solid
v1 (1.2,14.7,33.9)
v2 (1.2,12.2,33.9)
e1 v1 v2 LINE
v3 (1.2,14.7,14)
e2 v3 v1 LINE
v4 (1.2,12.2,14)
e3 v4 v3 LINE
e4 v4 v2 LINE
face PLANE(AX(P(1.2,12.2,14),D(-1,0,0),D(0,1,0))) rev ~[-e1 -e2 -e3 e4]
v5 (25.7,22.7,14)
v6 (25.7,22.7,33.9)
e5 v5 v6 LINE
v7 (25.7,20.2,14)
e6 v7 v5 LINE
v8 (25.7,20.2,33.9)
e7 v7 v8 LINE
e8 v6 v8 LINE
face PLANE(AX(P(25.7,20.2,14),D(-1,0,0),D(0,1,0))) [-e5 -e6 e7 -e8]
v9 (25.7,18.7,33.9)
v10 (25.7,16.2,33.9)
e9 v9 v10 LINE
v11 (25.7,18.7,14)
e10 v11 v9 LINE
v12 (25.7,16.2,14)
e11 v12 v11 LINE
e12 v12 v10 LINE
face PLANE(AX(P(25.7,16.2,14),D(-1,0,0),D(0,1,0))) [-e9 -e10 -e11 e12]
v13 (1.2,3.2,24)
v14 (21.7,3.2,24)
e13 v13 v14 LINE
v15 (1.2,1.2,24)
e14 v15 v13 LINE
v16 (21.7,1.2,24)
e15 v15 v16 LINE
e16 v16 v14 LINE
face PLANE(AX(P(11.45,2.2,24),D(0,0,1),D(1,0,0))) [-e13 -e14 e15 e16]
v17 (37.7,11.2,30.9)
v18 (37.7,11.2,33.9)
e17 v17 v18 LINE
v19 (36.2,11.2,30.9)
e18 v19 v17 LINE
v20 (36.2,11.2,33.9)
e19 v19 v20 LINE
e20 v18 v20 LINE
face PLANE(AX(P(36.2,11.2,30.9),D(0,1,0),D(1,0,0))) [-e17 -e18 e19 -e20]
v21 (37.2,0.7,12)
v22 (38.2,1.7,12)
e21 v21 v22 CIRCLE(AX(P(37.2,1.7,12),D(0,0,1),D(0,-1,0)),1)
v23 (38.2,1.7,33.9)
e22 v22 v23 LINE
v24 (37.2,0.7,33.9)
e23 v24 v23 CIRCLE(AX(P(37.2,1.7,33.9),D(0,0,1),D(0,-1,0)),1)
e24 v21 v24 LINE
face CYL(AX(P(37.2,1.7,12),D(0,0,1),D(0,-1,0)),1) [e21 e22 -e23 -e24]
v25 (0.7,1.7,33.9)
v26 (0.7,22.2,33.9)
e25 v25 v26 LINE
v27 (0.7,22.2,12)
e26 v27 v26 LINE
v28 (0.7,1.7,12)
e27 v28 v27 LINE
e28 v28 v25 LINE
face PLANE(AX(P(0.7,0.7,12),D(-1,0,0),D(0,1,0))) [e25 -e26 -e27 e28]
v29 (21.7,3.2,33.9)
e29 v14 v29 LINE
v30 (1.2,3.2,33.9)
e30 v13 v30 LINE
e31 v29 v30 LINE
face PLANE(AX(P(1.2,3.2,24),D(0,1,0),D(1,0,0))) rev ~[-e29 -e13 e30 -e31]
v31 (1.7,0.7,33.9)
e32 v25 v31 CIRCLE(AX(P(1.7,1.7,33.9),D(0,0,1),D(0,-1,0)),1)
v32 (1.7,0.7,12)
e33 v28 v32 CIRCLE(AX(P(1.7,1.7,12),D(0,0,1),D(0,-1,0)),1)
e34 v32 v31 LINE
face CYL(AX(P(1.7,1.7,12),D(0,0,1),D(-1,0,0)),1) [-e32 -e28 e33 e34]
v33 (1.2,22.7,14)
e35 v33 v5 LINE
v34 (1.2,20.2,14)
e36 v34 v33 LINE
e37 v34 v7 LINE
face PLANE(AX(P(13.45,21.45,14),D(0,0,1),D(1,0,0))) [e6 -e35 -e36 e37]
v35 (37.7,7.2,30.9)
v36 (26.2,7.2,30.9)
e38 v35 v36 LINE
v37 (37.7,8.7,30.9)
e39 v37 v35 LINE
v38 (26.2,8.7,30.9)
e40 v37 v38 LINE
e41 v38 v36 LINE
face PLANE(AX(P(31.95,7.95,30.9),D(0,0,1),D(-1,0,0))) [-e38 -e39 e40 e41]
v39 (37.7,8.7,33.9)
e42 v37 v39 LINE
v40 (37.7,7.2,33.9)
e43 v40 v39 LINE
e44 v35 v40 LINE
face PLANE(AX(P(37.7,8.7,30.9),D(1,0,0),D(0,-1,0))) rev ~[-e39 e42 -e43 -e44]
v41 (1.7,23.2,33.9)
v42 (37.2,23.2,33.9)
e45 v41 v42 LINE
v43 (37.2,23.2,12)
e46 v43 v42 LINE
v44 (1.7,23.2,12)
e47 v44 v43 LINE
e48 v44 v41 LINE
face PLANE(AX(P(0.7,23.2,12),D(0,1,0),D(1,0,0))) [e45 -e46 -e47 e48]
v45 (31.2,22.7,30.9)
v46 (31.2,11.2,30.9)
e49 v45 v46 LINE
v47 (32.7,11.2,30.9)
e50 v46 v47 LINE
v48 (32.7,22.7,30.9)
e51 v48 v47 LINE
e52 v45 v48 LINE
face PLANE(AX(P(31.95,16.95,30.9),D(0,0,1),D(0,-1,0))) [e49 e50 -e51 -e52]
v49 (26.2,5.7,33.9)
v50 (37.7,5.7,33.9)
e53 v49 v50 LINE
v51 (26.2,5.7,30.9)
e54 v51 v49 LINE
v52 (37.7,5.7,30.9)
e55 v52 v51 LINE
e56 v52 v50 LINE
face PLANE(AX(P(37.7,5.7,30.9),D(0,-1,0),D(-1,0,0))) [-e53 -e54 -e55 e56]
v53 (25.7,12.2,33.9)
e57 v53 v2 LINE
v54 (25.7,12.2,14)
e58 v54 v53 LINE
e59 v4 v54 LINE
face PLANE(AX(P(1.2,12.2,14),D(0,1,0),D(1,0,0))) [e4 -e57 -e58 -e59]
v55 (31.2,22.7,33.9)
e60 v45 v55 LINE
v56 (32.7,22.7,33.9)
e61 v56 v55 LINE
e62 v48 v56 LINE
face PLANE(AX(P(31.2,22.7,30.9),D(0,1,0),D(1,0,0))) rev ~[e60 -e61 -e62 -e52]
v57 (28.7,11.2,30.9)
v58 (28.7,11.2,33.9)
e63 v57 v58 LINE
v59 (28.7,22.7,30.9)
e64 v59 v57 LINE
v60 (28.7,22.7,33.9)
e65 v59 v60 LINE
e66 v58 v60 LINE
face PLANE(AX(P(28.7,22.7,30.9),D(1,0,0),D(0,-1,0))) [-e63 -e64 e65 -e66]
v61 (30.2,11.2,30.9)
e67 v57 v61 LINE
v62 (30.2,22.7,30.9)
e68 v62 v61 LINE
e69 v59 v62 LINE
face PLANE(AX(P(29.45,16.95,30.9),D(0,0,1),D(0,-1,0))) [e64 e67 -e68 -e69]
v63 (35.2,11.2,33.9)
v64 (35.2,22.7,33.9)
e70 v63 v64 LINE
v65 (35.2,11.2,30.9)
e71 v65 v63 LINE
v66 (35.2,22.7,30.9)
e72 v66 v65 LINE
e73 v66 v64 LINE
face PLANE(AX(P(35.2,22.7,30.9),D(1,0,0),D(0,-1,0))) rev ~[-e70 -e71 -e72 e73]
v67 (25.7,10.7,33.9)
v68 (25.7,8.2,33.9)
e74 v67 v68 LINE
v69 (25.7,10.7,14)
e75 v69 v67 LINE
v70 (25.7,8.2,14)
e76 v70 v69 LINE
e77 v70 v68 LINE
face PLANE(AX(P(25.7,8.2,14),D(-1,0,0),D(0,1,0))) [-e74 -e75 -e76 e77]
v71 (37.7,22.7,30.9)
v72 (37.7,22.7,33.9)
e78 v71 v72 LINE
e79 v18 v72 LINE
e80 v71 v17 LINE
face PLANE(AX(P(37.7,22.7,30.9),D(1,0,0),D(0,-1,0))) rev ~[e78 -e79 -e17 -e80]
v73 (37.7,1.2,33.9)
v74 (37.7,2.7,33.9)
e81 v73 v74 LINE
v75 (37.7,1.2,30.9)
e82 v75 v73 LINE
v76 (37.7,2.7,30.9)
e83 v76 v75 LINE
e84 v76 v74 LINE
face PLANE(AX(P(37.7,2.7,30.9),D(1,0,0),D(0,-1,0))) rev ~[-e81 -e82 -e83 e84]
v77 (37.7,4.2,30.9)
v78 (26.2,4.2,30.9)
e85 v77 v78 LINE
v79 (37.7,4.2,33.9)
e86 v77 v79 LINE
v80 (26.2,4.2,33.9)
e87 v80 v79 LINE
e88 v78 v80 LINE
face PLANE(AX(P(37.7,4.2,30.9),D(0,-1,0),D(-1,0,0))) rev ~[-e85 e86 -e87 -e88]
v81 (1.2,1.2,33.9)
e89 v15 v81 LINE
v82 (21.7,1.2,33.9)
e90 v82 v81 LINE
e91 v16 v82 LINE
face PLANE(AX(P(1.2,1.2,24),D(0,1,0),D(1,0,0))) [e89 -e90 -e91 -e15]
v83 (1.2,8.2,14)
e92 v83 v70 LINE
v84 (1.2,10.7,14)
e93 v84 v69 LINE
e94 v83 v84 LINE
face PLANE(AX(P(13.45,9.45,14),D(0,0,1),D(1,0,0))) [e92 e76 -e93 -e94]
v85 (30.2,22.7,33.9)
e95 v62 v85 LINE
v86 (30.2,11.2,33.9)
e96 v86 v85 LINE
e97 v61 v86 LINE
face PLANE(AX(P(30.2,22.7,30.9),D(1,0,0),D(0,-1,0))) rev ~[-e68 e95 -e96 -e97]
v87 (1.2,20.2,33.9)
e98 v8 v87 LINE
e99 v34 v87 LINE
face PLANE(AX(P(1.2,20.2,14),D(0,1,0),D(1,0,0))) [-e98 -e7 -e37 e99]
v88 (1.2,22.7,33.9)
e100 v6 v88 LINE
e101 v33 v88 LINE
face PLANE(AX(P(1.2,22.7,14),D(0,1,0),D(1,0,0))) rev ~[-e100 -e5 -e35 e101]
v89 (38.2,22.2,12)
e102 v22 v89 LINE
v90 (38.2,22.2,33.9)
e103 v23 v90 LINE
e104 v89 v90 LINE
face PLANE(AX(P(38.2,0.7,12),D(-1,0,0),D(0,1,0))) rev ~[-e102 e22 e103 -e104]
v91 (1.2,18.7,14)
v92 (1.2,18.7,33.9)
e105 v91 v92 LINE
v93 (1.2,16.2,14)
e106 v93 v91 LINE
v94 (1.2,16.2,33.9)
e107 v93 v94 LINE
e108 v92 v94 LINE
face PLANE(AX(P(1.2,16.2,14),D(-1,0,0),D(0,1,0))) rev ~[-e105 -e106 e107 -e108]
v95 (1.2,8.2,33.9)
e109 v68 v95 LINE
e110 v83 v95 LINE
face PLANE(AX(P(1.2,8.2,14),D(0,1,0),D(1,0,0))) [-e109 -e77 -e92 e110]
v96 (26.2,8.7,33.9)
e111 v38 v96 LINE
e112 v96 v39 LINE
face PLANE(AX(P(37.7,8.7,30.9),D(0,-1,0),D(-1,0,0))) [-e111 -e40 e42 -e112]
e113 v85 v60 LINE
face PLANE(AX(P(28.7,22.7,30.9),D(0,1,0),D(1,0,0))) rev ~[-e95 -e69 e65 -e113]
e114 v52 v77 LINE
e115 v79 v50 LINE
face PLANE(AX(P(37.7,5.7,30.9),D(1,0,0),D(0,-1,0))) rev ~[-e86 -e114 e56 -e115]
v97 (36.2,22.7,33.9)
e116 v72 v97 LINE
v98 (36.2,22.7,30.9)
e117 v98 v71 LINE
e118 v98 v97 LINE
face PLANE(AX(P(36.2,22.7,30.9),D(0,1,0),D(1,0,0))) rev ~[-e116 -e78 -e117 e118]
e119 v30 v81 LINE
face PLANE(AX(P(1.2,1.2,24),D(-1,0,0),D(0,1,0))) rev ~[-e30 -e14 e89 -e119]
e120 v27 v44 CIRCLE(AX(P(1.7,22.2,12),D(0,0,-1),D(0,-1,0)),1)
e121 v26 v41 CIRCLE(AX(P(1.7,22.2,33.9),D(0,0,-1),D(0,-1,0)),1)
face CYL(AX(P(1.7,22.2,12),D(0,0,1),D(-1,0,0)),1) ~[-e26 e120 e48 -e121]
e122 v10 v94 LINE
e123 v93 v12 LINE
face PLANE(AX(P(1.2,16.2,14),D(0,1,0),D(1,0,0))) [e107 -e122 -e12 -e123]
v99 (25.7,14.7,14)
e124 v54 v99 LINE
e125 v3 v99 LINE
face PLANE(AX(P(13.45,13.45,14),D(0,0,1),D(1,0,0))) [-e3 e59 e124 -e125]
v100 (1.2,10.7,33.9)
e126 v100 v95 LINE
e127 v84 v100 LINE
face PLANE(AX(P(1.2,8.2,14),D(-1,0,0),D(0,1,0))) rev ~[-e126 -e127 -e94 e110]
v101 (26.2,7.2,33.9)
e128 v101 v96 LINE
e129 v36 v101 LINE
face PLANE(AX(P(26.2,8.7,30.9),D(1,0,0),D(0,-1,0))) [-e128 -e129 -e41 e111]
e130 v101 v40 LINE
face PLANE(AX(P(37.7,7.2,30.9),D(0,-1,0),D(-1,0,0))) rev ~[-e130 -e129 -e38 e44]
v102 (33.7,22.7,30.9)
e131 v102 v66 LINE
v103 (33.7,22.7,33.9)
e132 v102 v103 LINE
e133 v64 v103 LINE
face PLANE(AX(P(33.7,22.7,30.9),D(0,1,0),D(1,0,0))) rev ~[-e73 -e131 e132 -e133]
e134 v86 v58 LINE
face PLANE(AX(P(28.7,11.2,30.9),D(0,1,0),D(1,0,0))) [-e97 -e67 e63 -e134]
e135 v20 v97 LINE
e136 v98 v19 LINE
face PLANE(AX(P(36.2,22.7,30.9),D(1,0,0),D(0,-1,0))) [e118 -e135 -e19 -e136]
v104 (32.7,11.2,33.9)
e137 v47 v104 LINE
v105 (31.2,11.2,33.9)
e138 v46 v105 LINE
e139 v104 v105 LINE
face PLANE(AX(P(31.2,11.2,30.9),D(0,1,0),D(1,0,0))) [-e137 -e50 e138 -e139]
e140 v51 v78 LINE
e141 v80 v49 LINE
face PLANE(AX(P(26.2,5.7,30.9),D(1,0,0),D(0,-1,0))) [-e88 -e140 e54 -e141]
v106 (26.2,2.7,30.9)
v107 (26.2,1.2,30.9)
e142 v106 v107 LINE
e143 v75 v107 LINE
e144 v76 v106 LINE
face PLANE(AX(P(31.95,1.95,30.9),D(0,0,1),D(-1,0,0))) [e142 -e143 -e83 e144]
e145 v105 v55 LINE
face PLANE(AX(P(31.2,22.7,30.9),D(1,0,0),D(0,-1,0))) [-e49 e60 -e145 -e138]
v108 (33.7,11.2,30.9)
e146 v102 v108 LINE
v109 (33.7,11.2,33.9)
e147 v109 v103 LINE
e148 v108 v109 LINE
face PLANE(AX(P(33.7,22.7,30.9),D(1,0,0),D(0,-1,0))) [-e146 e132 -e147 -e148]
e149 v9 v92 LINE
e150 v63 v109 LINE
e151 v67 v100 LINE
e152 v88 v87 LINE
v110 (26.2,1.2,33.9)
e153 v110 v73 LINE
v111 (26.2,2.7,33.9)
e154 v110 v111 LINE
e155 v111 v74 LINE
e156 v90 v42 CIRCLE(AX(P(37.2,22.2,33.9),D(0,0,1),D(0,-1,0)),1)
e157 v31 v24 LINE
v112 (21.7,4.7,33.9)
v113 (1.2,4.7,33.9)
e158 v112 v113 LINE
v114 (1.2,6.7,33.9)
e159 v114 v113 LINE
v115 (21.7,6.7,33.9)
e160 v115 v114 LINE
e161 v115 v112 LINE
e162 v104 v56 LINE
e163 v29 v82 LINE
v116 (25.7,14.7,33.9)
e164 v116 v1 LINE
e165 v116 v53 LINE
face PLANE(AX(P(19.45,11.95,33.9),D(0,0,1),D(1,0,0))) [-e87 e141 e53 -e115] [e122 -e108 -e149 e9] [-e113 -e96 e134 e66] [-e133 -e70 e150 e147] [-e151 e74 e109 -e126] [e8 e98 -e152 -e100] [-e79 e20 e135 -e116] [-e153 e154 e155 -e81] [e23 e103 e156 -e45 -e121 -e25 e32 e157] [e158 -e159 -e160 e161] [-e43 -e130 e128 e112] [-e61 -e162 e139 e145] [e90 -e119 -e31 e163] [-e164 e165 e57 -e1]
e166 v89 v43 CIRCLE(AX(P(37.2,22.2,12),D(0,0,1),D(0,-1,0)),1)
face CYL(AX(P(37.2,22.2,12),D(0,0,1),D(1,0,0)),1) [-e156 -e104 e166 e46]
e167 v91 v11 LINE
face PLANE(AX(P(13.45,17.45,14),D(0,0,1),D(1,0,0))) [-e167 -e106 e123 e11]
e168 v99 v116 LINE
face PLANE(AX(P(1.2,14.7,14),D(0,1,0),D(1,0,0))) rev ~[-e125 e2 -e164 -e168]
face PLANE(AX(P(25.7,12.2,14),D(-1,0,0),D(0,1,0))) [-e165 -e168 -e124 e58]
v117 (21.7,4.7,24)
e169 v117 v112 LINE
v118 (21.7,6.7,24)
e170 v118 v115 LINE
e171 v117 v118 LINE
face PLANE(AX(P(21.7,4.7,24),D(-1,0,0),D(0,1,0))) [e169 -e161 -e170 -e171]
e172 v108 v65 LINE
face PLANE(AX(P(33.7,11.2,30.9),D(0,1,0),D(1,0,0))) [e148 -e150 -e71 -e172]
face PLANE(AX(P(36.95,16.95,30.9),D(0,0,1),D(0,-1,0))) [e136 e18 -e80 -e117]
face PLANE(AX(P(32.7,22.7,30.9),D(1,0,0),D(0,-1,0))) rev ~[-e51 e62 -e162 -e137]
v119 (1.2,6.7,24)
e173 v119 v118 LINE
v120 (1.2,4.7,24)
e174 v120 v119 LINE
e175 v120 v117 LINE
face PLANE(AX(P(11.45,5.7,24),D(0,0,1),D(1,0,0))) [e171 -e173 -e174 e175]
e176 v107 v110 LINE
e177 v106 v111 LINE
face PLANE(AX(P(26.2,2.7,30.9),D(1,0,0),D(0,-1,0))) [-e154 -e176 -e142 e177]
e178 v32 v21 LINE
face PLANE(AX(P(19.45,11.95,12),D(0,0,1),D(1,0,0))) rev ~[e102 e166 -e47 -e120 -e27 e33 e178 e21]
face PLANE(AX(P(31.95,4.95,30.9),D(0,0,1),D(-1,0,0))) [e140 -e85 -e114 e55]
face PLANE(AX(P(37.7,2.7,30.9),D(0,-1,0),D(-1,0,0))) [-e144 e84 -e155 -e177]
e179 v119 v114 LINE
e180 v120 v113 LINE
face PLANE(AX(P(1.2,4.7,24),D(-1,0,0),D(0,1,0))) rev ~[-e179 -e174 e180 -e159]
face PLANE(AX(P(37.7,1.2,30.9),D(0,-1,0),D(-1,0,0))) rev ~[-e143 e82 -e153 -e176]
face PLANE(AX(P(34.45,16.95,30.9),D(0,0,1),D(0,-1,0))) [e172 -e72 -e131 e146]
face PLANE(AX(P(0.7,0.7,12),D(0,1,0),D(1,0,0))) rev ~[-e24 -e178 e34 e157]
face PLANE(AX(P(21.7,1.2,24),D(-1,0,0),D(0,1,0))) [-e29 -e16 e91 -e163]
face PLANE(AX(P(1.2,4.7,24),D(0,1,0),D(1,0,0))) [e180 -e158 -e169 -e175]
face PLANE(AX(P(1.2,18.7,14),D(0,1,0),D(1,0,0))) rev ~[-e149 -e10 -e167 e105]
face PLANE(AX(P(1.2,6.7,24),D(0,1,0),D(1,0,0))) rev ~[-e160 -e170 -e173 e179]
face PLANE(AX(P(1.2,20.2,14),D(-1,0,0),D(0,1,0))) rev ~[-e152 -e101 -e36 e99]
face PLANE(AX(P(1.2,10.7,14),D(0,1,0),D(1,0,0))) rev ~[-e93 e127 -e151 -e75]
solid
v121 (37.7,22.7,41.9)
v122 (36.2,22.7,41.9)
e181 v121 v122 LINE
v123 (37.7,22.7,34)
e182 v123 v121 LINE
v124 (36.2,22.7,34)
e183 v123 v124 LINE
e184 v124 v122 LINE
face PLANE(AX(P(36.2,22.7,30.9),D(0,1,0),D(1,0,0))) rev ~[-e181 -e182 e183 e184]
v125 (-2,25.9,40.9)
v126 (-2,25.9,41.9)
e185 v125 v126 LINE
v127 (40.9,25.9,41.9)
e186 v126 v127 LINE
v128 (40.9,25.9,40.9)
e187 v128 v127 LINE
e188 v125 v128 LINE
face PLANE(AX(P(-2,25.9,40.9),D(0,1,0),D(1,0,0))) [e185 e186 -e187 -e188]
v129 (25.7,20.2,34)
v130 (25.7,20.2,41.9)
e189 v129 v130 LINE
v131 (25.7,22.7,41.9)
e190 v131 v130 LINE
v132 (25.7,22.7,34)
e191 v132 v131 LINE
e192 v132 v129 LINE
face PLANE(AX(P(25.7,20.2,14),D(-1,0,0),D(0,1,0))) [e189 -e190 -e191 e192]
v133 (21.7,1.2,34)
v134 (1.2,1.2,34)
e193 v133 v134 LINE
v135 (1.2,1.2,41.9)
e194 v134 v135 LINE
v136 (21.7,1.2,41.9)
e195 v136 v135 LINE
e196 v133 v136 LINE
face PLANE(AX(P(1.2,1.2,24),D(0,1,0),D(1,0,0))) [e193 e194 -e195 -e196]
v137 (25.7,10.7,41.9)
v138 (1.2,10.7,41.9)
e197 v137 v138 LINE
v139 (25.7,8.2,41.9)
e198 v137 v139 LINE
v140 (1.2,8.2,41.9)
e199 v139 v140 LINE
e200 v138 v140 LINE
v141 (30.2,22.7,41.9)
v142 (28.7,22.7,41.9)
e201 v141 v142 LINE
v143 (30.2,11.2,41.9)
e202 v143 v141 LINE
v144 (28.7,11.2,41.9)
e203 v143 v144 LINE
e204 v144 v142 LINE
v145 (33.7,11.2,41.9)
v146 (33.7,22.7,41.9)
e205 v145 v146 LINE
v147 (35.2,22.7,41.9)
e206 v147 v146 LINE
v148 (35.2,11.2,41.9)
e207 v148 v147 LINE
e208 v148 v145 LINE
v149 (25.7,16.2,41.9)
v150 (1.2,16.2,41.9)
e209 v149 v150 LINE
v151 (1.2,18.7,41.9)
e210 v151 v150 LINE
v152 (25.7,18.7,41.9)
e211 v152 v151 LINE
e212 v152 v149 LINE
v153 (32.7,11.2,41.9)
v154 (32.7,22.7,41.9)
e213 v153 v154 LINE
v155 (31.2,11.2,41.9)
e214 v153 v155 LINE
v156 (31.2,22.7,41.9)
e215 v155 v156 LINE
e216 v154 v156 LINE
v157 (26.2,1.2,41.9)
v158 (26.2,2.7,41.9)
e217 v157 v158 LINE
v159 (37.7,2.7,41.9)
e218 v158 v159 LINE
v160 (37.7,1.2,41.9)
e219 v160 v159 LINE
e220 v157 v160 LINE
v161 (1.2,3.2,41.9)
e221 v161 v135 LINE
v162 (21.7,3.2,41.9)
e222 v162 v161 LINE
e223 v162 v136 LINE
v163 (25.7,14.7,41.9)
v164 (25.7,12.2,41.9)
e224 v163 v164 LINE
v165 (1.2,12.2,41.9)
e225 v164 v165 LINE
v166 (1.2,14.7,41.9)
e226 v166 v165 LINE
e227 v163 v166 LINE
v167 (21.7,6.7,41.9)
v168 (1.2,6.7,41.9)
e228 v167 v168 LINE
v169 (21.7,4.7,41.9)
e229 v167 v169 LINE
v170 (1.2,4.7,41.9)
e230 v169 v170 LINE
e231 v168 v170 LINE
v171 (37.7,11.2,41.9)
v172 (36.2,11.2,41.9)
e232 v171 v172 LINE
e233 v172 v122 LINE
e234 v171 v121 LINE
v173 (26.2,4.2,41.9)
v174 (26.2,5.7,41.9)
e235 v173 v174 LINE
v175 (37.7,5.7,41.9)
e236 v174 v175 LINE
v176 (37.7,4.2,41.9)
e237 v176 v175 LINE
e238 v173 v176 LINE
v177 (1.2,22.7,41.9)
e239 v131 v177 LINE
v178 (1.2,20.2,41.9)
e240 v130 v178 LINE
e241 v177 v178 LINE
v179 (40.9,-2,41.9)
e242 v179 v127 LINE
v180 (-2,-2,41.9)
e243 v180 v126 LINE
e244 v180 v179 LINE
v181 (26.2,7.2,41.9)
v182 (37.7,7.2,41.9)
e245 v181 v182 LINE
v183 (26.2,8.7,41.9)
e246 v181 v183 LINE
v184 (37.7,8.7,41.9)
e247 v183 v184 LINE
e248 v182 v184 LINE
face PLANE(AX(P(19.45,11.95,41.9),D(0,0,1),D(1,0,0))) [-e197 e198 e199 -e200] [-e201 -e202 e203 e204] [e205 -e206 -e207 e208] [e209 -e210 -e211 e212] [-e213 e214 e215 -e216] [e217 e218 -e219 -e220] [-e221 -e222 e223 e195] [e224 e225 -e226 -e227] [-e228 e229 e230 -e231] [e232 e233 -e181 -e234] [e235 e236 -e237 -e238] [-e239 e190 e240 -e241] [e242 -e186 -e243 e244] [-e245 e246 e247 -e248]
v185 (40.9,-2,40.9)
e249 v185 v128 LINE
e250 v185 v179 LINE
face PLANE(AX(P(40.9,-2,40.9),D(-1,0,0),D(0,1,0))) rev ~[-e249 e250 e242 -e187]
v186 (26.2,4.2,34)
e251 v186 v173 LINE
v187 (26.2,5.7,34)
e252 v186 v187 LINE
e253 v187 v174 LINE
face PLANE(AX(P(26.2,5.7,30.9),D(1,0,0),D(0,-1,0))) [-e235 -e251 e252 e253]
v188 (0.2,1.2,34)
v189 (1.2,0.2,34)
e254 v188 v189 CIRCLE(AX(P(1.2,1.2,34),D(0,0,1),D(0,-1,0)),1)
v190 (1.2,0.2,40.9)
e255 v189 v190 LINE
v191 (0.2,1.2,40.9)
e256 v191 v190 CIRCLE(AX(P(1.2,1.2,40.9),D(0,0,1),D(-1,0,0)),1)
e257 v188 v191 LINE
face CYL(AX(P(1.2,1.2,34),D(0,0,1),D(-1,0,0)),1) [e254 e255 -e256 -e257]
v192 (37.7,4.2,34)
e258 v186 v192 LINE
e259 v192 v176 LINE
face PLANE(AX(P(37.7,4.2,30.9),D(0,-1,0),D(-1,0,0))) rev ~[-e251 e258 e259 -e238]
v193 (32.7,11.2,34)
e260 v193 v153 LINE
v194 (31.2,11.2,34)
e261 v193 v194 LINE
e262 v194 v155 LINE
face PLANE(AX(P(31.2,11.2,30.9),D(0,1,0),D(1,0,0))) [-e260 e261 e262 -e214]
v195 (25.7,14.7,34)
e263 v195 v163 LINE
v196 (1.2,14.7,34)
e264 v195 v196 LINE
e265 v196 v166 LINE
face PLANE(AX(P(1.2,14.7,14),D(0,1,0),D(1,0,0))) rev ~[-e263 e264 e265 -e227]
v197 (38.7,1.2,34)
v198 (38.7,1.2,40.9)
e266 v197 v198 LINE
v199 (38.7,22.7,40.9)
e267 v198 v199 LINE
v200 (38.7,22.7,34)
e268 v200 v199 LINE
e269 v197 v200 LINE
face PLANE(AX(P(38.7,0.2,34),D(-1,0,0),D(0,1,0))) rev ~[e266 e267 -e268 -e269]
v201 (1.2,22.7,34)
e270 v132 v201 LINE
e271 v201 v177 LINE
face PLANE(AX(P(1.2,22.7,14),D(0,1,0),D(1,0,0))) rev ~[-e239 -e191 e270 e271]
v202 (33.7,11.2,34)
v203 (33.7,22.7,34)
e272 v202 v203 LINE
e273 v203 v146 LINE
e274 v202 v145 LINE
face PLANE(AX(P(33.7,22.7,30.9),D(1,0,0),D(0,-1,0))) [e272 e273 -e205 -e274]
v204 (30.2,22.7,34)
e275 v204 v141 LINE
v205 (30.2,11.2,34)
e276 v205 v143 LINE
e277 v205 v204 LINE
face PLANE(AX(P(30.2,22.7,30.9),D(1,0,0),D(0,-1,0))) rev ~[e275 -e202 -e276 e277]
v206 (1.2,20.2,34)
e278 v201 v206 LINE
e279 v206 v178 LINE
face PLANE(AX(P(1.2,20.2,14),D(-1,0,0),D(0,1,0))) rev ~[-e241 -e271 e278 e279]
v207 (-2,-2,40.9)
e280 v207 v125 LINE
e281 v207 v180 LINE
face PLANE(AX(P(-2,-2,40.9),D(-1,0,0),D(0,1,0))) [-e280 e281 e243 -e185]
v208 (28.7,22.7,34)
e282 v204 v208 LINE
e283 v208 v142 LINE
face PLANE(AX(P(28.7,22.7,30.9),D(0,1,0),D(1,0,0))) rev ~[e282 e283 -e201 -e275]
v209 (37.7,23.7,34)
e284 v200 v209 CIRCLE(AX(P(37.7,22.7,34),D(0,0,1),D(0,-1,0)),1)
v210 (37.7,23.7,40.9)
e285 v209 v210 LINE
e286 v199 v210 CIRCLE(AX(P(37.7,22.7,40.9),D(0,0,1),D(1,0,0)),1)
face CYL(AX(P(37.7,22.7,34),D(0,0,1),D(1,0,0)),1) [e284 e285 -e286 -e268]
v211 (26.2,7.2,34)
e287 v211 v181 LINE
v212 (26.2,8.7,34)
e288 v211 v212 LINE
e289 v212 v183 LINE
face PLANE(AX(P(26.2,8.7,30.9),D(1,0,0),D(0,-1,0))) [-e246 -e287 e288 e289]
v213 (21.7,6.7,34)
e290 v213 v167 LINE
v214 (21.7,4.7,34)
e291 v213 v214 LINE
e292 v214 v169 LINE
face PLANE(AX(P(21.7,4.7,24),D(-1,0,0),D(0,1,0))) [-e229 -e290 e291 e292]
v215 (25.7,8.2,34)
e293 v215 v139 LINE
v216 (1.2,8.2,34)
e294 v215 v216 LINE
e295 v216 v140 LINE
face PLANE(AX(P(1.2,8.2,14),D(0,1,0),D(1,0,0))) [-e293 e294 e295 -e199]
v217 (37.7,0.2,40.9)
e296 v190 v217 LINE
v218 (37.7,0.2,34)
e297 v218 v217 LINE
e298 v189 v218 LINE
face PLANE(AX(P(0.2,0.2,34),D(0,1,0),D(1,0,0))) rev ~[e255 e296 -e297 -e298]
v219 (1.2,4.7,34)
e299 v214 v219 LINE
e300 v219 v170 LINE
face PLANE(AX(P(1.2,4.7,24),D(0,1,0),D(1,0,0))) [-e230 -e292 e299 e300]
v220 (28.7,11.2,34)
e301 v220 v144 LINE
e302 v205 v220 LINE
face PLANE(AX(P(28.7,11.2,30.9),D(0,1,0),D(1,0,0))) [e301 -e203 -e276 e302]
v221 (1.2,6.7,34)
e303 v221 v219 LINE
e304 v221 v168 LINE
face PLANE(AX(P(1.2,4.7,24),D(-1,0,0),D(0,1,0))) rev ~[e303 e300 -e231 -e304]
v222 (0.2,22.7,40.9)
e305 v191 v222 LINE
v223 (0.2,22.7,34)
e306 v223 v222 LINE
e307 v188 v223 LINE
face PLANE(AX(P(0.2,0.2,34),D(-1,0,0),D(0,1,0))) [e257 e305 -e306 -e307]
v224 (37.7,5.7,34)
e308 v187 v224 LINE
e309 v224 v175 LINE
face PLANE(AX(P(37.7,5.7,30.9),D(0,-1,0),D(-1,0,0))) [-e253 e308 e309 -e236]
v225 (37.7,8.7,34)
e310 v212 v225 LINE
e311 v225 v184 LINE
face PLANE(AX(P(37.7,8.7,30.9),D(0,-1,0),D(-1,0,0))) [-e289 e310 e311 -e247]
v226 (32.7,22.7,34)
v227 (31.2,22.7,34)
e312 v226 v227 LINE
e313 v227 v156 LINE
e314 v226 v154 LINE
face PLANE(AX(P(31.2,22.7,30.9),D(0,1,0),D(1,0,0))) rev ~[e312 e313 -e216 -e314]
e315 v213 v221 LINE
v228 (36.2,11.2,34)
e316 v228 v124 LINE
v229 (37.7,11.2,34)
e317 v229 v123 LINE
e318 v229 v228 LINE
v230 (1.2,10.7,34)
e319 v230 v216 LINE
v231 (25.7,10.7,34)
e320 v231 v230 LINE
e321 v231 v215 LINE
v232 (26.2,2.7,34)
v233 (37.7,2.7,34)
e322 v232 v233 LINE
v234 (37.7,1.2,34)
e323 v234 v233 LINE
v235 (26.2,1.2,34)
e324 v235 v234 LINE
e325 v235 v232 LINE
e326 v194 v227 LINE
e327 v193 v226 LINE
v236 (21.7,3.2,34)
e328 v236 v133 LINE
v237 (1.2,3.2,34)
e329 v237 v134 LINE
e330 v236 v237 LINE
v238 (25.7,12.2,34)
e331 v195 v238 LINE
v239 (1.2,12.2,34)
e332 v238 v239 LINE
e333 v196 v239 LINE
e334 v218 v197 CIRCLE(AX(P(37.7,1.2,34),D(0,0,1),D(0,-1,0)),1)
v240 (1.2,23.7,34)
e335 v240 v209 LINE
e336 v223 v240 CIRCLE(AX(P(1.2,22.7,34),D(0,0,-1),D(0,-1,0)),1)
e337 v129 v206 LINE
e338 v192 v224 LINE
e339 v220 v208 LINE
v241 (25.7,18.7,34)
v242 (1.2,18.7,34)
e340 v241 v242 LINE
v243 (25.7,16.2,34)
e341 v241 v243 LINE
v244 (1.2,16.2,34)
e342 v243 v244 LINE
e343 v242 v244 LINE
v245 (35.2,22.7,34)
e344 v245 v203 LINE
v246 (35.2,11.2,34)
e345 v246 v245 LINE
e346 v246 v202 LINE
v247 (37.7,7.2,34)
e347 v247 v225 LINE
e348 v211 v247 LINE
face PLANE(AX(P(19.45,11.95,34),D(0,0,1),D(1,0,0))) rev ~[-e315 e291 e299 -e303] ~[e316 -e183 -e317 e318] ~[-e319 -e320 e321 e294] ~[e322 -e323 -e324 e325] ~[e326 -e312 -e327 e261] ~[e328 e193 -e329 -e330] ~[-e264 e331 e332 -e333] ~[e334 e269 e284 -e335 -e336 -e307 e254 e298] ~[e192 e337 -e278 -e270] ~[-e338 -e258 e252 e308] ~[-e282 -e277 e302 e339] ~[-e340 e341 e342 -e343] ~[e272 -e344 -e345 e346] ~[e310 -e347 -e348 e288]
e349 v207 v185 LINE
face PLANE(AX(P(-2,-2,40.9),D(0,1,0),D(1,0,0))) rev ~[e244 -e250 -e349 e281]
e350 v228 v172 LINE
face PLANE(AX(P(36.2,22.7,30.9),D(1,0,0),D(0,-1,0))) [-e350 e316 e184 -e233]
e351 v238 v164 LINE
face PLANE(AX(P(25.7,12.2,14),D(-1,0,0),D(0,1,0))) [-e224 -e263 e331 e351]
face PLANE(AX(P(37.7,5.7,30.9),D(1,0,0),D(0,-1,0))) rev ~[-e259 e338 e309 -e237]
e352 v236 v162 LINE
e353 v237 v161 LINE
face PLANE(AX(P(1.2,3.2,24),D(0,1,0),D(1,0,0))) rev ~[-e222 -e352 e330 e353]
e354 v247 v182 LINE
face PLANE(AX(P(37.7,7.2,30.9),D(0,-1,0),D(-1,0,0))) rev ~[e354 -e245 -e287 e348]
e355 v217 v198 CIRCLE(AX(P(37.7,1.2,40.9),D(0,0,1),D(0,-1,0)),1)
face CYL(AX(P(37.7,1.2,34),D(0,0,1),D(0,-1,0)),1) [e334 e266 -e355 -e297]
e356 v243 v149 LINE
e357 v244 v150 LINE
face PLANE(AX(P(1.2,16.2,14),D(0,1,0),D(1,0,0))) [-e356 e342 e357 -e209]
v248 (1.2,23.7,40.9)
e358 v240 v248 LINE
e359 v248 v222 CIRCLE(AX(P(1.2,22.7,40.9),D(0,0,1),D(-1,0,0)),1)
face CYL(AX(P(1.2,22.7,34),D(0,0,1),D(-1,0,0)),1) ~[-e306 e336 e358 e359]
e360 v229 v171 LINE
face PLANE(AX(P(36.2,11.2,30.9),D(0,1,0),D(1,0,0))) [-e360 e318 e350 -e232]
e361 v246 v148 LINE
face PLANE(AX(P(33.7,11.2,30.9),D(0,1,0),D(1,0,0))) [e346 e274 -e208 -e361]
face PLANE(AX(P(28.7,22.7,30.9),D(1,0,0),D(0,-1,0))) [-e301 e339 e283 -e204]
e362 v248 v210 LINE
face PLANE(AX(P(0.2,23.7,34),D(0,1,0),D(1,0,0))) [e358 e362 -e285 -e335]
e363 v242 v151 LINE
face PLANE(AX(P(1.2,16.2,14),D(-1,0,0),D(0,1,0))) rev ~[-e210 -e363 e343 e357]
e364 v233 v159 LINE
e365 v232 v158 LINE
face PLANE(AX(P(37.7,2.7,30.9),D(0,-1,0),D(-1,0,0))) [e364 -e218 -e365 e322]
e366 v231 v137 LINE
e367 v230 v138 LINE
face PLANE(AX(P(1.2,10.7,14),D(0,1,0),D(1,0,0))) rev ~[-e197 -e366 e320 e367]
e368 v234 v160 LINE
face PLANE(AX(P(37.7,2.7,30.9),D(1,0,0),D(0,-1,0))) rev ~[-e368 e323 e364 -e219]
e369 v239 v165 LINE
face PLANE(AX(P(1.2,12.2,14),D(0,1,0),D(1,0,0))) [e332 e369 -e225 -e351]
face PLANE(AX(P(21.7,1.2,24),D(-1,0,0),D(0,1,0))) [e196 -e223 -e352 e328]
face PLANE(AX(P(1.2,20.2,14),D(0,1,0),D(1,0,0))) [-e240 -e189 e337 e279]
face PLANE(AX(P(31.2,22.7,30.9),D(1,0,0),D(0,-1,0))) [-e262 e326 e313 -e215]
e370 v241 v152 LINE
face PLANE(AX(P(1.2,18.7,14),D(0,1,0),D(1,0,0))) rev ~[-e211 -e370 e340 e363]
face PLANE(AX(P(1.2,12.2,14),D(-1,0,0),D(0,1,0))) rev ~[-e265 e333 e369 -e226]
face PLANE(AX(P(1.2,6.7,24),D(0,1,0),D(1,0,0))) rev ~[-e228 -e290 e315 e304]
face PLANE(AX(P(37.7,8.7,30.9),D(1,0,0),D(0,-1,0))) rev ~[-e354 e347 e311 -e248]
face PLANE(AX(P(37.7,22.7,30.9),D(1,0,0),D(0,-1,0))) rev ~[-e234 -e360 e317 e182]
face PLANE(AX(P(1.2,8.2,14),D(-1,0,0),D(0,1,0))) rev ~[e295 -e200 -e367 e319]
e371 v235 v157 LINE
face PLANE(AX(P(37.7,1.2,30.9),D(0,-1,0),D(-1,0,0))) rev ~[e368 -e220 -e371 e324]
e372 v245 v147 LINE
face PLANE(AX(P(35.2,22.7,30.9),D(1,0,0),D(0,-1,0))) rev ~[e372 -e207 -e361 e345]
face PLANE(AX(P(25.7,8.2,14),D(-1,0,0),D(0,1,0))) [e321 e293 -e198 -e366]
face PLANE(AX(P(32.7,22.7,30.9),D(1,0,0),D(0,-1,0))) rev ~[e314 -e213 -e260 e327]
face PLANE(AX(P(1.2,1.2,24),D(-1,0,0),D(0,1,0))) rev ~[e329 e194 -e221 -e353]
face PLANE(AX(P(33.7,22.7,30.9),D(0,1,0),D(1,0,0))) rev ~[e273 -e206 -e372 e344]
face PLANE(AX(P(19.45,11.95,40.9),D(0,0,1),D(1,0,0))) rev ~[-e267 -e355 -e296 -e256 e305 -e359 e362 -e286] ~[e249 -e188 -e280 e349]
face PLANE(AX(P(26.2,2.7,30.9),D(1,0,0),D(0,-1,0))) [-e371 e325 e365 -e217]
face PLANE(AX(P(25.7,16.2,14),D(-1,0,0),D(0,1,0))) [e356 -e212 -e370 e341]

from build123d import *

# Parameters (mm, degrees)
BOX003_W     = 20.5
BOX003_H     = 2
BOX003_DEPTH = 22
BOX002_W     = 24.5
BOX002_H     = 2.5
BOX002_DEPTH = 32
BOX019_W     = 24.5
BOX019_H     = 2.5
BOX019_DEPTH = 32
BOX020_W     = 24.5
BOX020_H     = 2.5
BOX020_DEPTH = 32
BOX021_W     = 24.5
BOX021_H     = 2.5
BOX021_DEPTH = 32
BOX022_W     = 20.5
BOX022_H     = 2
BOX022_DEPTH = 22
BOX023_W     = 11.5
BOX023_H     = 1.5
BOX023_DEPTH = 15
BOX024_W     = 11.5
BOX024_H     = 1.5
BOX024_DEPTH = 15
BOX025_W     = 11.5
BOX025_H     = 1.5
BOX025_DEPTH = 15
BOX026_W     = 11.5
BOX026_H     = 1.5
BOX026_DEPTH = 15
BOX027_W     = 11.5
BOX027_H     = 1.5
BOX027_DEPTH = 15
BOX028_W     = 11.5
BOX028_H     = 1.5
BOX028_DEPTH = 15
BOX004_W     = 11.5
BOX004_H     = 1.5
BOX004_DEPTH = 15
BOX_W        = 38.5
BOX_H        = 23.5
BOX_DEPTH    = 7.9
FILLET_R     = 1
BOX001_W     = 42.9
BOX001_H     = 27.9
BOX001_DEPTH = 1
BOX029_W     = 37.5
BOX029_H     = 22.5
BOX029_DEPTH = 21.9
FILLET001_R  = 1


with BuildPart() as mini_sd:
    # Box003 → Box003 (new body)
    with BuildSketch(Plane(origin=(1.2, 1.2, 20), x_dir=(1, 0, 0), z_dir=(0, 0, 1))):
        with Locations((10.25, 1)):
            Rectangle(BOX003_W, BOX003_H)
    extrude(amount=BOX003_DEPTH)


with BuildPart() as sd:
    # Box002 → Box002 (new body)
    with BuildSketch(Plane(origin=(1.2, 20.2, 10), x_dir=(1, 0, 0), z_dir=(0, 0, 1))):
        with Locations((12.25, 1.25)):
            Rectangle(BOX002_W, BOX002_H)
    extrude(amount=BOX002_DEPTH)


with BuildPart() as sd001:
    # Box019 → Box019 (new body)
    with BuildSketch(Plane(origin=(1.2, 16.2, 10), x_dir=(1, 0, 0), z_dir=(0, 0, 1))):
        with Locations((12.25, 1.25)):
            Rectangle(BOX019_W, BOX019_H)
    extrude(amount=BOX019_DEPTH)


with BuildPart() as sd002:
    # Box020 → Box020 (new body)
    with BuildSketch(Plane(origin=(1.2, 12.2, 10), x_dir=(1, 0, 0), z_dir=(0, 0, 1))):
        with Locations((12.25, 1.25)):
            Rectangle(BOX020_W, BOX020_H)
    extrude(amount=BOX020_DEPTH)


with BuildPart() as sd003:
    # Box021 → Box021 (new body)
    with BuildSketch(Plane(origin=(1.2, 8.2, 10), x_dir=(1, 0, 0), z_dir=(0, 0, 1))):
        with Locations((12.25, 1.25)):
            Rectangle(BOX021_W, BOX021_H)
    extrude(amount=BOX021_DEPTH)


with BuildPart() as mini_sd001:
    # Box022 → Box022 (new body)
    with BuildSketch(Plane(origin=(1.2, 4.7, 20), x_dir=(1, 0, 0), z_dir=(0, 0, 1))):
        with Locations((10.25, 1)):
            Rectangle(BOX022_W, BOX022_H)
    extrude(amount=BOX022_DEPTH)


with BuildPart() as micro_sd001:
    # Box023 → Box023 (new body)
    with BuildSketch(Plane(origin=(33.7, 22.7, 26.9), x_dir=(0, -1, 0), z_dir=(0, 0, 1))):
        with Locations((5.75, 0.75)):
            Rectangle(BOX023_W, BOX023_H)
    extrude(amount=BOX023_DEPTH)


with BuildPart() as micro_sd002:
    # Box024 → Box024 (new body)
    with BuildSketch(Plane(origin=(31.2, 22.7, 26.9), x_dir=(0, -1, 0), z_dir=(0, 0, 1))):
        with Locations((5.75, 0.75)):
            Rectangle(BOX024_W, BOX024_H)
    extrude(amount=BOX024_DEPTH)


with BuildPart() as micro_sd003:
    # Box025 → Box025 (new body)
    with BuildSketch(Plane(origin=(37.7, 2.7, 26.9), x_dir=(-1, 0, 0), z_dir=(0, 0, 1))):
        with Locations((5.75, 0.75)):
            Rectangle(BOX025_W, BOX025_H)
    extrude(amount=BOX025_DEPTH)


with BuildPart() as micro_sd004:
    # Box026 → Box026 (new body)
    with BuildSketch(Plane(origin=(37.7, 5.7, 26.9), x_dir=(-1, 0, 0), z_dir=(0, 0, 1))):
        with Locations((5.75, 0.75)):
            Rectangle(BOX026_W, BOX026_H)
    extrude(amount=BOX026_DEPTH)


with BuildPart() as micro_sd005:
    # Box027 → Box027 (new body)
    with BuildSketch(Plane(origin=(37.7, 8.7, 26.9), x_dir=(-1, 0, 0), z_dir=(0, 0, 1))):
        with Locations((5.75, 0.75)):
            Rectangle(BOX027_W, BOX027_H)
    extrude(amount=BOX027_DEPTH)


with BuildPart() as micro_sd006:
    # Box028 → Box028 (new body)
    with BuildSketch(Plane(origin=(28.7, 22.7, 26.9), x_dir=(0, -1, 0), z_dir=(0, 0, 1))):
        with Locations((5.75, 0.75)):
            Rectangle(BOX028_W, BOX028_H)
    extrude(amount=BOX028_DEPTH)


with BuildPart() as fusion:
    # Box004 → Box004 (new body)
    with BuildSketch(Plane(origin=(36.2, 22.7, 26.9), x_dir=(0, -1, 0), z_dir=(0, 0, 1))):
        with Locations((5.75, 0.75)):
            Rectangle(BOX004_W, BOX004_H)
    extrude(amount=BOX004_DEPTH)

    # Fusion: union mini-sd, sd, sd001, sd002, sd003, mini-sd001, micro-sd001, micro-sd002, micro-sd003, micro-sd004, micro-sd005, micro-sd006
    add(mini_sd.part)
    add(sd.part)
    add(sd001.part)
    add(sd002.part)
    add(sd003.part)
    add(mini_sd001.part)
    add(micro_sd001.part)
    add(micro_sd002.part)
    add(micro_sd003.part)
    add(micro_sd004.part)
    add(micro_sd005.part)
    add(micro_sd006.part)


with BuildPart() as fusion_1:
    # Fusion placement: moved
    add(fusion.part.moved(Location((0, 0, 4))))


with BuildPart() as fillet_body:
    # Box → Box (new body)
    with BuildSketch(Plane(origin=(0.2, 0.2, 34), x_dir=(1, 0, 0), z_dir=(0, 0, 1))):
        with Locations((19.25, 11.75)):
            Rectangle(BOX_W, BOX_H)
    extrude(amount=BOX_DEPTH)

    # Fillet
    fillet_edges = [fillet_body.edges().sort_by_distance(p)[0] for p in [
        (0.2, 0.2, 37.95),
        (0.2, 23.7, 37.95),
        (38.7, 0.2, 37.95),
        (38.7, 23.7, 37.95),
    ]]
    fillet(fillet_edges, radius=FILLET_R)


with BuildPart() as cube001:
    # Box001 → Box001 (new body)
    with BuildSketch(Plane(origin=(-2, -2, 40.9), x_dir=(1, 0, 0), z_dir=(0, 0, 1))):
        with Locations((21.45, 13.95)):
            Rectangle(BOX001_W, BOX001_H)
    extrude(amount=BOX001_DEPTH)


with BuildPart() as cut:
    # Box029 → Box029 (new body)
    with BuildSketch(Plane(origin=(0.7, 0.7, 12), x_dir=(1, 0, 0), z_dir=(0, 0, 1))):
        with Locations((18.75, 11.25)):
            Rectangle(BOX029_W, BOX029_H)
    extrude(amount=BOX029_DEPTH)

    # Fillet001
    fillet001_edges = [cut.edges().sort_by_distance(p)[0] for p in [
        (0.7, 0.7, 22.95),
        (0.7, 23.2, 22.95),
        (38.2, 0.7, 22.95),
        (38.2, 23.2, 22.95),
    ]]
    fillet(fillet001_edges, radius=FILLET001_R)

    # Fusion001: union Fillet body, Cube001
    add(fillet_body.part)
    add(cube001.part)

    # Cut: cut Fusion
    add(fusion_1.part, mode=Mode.SUBTRACT)


solid = cut.part
